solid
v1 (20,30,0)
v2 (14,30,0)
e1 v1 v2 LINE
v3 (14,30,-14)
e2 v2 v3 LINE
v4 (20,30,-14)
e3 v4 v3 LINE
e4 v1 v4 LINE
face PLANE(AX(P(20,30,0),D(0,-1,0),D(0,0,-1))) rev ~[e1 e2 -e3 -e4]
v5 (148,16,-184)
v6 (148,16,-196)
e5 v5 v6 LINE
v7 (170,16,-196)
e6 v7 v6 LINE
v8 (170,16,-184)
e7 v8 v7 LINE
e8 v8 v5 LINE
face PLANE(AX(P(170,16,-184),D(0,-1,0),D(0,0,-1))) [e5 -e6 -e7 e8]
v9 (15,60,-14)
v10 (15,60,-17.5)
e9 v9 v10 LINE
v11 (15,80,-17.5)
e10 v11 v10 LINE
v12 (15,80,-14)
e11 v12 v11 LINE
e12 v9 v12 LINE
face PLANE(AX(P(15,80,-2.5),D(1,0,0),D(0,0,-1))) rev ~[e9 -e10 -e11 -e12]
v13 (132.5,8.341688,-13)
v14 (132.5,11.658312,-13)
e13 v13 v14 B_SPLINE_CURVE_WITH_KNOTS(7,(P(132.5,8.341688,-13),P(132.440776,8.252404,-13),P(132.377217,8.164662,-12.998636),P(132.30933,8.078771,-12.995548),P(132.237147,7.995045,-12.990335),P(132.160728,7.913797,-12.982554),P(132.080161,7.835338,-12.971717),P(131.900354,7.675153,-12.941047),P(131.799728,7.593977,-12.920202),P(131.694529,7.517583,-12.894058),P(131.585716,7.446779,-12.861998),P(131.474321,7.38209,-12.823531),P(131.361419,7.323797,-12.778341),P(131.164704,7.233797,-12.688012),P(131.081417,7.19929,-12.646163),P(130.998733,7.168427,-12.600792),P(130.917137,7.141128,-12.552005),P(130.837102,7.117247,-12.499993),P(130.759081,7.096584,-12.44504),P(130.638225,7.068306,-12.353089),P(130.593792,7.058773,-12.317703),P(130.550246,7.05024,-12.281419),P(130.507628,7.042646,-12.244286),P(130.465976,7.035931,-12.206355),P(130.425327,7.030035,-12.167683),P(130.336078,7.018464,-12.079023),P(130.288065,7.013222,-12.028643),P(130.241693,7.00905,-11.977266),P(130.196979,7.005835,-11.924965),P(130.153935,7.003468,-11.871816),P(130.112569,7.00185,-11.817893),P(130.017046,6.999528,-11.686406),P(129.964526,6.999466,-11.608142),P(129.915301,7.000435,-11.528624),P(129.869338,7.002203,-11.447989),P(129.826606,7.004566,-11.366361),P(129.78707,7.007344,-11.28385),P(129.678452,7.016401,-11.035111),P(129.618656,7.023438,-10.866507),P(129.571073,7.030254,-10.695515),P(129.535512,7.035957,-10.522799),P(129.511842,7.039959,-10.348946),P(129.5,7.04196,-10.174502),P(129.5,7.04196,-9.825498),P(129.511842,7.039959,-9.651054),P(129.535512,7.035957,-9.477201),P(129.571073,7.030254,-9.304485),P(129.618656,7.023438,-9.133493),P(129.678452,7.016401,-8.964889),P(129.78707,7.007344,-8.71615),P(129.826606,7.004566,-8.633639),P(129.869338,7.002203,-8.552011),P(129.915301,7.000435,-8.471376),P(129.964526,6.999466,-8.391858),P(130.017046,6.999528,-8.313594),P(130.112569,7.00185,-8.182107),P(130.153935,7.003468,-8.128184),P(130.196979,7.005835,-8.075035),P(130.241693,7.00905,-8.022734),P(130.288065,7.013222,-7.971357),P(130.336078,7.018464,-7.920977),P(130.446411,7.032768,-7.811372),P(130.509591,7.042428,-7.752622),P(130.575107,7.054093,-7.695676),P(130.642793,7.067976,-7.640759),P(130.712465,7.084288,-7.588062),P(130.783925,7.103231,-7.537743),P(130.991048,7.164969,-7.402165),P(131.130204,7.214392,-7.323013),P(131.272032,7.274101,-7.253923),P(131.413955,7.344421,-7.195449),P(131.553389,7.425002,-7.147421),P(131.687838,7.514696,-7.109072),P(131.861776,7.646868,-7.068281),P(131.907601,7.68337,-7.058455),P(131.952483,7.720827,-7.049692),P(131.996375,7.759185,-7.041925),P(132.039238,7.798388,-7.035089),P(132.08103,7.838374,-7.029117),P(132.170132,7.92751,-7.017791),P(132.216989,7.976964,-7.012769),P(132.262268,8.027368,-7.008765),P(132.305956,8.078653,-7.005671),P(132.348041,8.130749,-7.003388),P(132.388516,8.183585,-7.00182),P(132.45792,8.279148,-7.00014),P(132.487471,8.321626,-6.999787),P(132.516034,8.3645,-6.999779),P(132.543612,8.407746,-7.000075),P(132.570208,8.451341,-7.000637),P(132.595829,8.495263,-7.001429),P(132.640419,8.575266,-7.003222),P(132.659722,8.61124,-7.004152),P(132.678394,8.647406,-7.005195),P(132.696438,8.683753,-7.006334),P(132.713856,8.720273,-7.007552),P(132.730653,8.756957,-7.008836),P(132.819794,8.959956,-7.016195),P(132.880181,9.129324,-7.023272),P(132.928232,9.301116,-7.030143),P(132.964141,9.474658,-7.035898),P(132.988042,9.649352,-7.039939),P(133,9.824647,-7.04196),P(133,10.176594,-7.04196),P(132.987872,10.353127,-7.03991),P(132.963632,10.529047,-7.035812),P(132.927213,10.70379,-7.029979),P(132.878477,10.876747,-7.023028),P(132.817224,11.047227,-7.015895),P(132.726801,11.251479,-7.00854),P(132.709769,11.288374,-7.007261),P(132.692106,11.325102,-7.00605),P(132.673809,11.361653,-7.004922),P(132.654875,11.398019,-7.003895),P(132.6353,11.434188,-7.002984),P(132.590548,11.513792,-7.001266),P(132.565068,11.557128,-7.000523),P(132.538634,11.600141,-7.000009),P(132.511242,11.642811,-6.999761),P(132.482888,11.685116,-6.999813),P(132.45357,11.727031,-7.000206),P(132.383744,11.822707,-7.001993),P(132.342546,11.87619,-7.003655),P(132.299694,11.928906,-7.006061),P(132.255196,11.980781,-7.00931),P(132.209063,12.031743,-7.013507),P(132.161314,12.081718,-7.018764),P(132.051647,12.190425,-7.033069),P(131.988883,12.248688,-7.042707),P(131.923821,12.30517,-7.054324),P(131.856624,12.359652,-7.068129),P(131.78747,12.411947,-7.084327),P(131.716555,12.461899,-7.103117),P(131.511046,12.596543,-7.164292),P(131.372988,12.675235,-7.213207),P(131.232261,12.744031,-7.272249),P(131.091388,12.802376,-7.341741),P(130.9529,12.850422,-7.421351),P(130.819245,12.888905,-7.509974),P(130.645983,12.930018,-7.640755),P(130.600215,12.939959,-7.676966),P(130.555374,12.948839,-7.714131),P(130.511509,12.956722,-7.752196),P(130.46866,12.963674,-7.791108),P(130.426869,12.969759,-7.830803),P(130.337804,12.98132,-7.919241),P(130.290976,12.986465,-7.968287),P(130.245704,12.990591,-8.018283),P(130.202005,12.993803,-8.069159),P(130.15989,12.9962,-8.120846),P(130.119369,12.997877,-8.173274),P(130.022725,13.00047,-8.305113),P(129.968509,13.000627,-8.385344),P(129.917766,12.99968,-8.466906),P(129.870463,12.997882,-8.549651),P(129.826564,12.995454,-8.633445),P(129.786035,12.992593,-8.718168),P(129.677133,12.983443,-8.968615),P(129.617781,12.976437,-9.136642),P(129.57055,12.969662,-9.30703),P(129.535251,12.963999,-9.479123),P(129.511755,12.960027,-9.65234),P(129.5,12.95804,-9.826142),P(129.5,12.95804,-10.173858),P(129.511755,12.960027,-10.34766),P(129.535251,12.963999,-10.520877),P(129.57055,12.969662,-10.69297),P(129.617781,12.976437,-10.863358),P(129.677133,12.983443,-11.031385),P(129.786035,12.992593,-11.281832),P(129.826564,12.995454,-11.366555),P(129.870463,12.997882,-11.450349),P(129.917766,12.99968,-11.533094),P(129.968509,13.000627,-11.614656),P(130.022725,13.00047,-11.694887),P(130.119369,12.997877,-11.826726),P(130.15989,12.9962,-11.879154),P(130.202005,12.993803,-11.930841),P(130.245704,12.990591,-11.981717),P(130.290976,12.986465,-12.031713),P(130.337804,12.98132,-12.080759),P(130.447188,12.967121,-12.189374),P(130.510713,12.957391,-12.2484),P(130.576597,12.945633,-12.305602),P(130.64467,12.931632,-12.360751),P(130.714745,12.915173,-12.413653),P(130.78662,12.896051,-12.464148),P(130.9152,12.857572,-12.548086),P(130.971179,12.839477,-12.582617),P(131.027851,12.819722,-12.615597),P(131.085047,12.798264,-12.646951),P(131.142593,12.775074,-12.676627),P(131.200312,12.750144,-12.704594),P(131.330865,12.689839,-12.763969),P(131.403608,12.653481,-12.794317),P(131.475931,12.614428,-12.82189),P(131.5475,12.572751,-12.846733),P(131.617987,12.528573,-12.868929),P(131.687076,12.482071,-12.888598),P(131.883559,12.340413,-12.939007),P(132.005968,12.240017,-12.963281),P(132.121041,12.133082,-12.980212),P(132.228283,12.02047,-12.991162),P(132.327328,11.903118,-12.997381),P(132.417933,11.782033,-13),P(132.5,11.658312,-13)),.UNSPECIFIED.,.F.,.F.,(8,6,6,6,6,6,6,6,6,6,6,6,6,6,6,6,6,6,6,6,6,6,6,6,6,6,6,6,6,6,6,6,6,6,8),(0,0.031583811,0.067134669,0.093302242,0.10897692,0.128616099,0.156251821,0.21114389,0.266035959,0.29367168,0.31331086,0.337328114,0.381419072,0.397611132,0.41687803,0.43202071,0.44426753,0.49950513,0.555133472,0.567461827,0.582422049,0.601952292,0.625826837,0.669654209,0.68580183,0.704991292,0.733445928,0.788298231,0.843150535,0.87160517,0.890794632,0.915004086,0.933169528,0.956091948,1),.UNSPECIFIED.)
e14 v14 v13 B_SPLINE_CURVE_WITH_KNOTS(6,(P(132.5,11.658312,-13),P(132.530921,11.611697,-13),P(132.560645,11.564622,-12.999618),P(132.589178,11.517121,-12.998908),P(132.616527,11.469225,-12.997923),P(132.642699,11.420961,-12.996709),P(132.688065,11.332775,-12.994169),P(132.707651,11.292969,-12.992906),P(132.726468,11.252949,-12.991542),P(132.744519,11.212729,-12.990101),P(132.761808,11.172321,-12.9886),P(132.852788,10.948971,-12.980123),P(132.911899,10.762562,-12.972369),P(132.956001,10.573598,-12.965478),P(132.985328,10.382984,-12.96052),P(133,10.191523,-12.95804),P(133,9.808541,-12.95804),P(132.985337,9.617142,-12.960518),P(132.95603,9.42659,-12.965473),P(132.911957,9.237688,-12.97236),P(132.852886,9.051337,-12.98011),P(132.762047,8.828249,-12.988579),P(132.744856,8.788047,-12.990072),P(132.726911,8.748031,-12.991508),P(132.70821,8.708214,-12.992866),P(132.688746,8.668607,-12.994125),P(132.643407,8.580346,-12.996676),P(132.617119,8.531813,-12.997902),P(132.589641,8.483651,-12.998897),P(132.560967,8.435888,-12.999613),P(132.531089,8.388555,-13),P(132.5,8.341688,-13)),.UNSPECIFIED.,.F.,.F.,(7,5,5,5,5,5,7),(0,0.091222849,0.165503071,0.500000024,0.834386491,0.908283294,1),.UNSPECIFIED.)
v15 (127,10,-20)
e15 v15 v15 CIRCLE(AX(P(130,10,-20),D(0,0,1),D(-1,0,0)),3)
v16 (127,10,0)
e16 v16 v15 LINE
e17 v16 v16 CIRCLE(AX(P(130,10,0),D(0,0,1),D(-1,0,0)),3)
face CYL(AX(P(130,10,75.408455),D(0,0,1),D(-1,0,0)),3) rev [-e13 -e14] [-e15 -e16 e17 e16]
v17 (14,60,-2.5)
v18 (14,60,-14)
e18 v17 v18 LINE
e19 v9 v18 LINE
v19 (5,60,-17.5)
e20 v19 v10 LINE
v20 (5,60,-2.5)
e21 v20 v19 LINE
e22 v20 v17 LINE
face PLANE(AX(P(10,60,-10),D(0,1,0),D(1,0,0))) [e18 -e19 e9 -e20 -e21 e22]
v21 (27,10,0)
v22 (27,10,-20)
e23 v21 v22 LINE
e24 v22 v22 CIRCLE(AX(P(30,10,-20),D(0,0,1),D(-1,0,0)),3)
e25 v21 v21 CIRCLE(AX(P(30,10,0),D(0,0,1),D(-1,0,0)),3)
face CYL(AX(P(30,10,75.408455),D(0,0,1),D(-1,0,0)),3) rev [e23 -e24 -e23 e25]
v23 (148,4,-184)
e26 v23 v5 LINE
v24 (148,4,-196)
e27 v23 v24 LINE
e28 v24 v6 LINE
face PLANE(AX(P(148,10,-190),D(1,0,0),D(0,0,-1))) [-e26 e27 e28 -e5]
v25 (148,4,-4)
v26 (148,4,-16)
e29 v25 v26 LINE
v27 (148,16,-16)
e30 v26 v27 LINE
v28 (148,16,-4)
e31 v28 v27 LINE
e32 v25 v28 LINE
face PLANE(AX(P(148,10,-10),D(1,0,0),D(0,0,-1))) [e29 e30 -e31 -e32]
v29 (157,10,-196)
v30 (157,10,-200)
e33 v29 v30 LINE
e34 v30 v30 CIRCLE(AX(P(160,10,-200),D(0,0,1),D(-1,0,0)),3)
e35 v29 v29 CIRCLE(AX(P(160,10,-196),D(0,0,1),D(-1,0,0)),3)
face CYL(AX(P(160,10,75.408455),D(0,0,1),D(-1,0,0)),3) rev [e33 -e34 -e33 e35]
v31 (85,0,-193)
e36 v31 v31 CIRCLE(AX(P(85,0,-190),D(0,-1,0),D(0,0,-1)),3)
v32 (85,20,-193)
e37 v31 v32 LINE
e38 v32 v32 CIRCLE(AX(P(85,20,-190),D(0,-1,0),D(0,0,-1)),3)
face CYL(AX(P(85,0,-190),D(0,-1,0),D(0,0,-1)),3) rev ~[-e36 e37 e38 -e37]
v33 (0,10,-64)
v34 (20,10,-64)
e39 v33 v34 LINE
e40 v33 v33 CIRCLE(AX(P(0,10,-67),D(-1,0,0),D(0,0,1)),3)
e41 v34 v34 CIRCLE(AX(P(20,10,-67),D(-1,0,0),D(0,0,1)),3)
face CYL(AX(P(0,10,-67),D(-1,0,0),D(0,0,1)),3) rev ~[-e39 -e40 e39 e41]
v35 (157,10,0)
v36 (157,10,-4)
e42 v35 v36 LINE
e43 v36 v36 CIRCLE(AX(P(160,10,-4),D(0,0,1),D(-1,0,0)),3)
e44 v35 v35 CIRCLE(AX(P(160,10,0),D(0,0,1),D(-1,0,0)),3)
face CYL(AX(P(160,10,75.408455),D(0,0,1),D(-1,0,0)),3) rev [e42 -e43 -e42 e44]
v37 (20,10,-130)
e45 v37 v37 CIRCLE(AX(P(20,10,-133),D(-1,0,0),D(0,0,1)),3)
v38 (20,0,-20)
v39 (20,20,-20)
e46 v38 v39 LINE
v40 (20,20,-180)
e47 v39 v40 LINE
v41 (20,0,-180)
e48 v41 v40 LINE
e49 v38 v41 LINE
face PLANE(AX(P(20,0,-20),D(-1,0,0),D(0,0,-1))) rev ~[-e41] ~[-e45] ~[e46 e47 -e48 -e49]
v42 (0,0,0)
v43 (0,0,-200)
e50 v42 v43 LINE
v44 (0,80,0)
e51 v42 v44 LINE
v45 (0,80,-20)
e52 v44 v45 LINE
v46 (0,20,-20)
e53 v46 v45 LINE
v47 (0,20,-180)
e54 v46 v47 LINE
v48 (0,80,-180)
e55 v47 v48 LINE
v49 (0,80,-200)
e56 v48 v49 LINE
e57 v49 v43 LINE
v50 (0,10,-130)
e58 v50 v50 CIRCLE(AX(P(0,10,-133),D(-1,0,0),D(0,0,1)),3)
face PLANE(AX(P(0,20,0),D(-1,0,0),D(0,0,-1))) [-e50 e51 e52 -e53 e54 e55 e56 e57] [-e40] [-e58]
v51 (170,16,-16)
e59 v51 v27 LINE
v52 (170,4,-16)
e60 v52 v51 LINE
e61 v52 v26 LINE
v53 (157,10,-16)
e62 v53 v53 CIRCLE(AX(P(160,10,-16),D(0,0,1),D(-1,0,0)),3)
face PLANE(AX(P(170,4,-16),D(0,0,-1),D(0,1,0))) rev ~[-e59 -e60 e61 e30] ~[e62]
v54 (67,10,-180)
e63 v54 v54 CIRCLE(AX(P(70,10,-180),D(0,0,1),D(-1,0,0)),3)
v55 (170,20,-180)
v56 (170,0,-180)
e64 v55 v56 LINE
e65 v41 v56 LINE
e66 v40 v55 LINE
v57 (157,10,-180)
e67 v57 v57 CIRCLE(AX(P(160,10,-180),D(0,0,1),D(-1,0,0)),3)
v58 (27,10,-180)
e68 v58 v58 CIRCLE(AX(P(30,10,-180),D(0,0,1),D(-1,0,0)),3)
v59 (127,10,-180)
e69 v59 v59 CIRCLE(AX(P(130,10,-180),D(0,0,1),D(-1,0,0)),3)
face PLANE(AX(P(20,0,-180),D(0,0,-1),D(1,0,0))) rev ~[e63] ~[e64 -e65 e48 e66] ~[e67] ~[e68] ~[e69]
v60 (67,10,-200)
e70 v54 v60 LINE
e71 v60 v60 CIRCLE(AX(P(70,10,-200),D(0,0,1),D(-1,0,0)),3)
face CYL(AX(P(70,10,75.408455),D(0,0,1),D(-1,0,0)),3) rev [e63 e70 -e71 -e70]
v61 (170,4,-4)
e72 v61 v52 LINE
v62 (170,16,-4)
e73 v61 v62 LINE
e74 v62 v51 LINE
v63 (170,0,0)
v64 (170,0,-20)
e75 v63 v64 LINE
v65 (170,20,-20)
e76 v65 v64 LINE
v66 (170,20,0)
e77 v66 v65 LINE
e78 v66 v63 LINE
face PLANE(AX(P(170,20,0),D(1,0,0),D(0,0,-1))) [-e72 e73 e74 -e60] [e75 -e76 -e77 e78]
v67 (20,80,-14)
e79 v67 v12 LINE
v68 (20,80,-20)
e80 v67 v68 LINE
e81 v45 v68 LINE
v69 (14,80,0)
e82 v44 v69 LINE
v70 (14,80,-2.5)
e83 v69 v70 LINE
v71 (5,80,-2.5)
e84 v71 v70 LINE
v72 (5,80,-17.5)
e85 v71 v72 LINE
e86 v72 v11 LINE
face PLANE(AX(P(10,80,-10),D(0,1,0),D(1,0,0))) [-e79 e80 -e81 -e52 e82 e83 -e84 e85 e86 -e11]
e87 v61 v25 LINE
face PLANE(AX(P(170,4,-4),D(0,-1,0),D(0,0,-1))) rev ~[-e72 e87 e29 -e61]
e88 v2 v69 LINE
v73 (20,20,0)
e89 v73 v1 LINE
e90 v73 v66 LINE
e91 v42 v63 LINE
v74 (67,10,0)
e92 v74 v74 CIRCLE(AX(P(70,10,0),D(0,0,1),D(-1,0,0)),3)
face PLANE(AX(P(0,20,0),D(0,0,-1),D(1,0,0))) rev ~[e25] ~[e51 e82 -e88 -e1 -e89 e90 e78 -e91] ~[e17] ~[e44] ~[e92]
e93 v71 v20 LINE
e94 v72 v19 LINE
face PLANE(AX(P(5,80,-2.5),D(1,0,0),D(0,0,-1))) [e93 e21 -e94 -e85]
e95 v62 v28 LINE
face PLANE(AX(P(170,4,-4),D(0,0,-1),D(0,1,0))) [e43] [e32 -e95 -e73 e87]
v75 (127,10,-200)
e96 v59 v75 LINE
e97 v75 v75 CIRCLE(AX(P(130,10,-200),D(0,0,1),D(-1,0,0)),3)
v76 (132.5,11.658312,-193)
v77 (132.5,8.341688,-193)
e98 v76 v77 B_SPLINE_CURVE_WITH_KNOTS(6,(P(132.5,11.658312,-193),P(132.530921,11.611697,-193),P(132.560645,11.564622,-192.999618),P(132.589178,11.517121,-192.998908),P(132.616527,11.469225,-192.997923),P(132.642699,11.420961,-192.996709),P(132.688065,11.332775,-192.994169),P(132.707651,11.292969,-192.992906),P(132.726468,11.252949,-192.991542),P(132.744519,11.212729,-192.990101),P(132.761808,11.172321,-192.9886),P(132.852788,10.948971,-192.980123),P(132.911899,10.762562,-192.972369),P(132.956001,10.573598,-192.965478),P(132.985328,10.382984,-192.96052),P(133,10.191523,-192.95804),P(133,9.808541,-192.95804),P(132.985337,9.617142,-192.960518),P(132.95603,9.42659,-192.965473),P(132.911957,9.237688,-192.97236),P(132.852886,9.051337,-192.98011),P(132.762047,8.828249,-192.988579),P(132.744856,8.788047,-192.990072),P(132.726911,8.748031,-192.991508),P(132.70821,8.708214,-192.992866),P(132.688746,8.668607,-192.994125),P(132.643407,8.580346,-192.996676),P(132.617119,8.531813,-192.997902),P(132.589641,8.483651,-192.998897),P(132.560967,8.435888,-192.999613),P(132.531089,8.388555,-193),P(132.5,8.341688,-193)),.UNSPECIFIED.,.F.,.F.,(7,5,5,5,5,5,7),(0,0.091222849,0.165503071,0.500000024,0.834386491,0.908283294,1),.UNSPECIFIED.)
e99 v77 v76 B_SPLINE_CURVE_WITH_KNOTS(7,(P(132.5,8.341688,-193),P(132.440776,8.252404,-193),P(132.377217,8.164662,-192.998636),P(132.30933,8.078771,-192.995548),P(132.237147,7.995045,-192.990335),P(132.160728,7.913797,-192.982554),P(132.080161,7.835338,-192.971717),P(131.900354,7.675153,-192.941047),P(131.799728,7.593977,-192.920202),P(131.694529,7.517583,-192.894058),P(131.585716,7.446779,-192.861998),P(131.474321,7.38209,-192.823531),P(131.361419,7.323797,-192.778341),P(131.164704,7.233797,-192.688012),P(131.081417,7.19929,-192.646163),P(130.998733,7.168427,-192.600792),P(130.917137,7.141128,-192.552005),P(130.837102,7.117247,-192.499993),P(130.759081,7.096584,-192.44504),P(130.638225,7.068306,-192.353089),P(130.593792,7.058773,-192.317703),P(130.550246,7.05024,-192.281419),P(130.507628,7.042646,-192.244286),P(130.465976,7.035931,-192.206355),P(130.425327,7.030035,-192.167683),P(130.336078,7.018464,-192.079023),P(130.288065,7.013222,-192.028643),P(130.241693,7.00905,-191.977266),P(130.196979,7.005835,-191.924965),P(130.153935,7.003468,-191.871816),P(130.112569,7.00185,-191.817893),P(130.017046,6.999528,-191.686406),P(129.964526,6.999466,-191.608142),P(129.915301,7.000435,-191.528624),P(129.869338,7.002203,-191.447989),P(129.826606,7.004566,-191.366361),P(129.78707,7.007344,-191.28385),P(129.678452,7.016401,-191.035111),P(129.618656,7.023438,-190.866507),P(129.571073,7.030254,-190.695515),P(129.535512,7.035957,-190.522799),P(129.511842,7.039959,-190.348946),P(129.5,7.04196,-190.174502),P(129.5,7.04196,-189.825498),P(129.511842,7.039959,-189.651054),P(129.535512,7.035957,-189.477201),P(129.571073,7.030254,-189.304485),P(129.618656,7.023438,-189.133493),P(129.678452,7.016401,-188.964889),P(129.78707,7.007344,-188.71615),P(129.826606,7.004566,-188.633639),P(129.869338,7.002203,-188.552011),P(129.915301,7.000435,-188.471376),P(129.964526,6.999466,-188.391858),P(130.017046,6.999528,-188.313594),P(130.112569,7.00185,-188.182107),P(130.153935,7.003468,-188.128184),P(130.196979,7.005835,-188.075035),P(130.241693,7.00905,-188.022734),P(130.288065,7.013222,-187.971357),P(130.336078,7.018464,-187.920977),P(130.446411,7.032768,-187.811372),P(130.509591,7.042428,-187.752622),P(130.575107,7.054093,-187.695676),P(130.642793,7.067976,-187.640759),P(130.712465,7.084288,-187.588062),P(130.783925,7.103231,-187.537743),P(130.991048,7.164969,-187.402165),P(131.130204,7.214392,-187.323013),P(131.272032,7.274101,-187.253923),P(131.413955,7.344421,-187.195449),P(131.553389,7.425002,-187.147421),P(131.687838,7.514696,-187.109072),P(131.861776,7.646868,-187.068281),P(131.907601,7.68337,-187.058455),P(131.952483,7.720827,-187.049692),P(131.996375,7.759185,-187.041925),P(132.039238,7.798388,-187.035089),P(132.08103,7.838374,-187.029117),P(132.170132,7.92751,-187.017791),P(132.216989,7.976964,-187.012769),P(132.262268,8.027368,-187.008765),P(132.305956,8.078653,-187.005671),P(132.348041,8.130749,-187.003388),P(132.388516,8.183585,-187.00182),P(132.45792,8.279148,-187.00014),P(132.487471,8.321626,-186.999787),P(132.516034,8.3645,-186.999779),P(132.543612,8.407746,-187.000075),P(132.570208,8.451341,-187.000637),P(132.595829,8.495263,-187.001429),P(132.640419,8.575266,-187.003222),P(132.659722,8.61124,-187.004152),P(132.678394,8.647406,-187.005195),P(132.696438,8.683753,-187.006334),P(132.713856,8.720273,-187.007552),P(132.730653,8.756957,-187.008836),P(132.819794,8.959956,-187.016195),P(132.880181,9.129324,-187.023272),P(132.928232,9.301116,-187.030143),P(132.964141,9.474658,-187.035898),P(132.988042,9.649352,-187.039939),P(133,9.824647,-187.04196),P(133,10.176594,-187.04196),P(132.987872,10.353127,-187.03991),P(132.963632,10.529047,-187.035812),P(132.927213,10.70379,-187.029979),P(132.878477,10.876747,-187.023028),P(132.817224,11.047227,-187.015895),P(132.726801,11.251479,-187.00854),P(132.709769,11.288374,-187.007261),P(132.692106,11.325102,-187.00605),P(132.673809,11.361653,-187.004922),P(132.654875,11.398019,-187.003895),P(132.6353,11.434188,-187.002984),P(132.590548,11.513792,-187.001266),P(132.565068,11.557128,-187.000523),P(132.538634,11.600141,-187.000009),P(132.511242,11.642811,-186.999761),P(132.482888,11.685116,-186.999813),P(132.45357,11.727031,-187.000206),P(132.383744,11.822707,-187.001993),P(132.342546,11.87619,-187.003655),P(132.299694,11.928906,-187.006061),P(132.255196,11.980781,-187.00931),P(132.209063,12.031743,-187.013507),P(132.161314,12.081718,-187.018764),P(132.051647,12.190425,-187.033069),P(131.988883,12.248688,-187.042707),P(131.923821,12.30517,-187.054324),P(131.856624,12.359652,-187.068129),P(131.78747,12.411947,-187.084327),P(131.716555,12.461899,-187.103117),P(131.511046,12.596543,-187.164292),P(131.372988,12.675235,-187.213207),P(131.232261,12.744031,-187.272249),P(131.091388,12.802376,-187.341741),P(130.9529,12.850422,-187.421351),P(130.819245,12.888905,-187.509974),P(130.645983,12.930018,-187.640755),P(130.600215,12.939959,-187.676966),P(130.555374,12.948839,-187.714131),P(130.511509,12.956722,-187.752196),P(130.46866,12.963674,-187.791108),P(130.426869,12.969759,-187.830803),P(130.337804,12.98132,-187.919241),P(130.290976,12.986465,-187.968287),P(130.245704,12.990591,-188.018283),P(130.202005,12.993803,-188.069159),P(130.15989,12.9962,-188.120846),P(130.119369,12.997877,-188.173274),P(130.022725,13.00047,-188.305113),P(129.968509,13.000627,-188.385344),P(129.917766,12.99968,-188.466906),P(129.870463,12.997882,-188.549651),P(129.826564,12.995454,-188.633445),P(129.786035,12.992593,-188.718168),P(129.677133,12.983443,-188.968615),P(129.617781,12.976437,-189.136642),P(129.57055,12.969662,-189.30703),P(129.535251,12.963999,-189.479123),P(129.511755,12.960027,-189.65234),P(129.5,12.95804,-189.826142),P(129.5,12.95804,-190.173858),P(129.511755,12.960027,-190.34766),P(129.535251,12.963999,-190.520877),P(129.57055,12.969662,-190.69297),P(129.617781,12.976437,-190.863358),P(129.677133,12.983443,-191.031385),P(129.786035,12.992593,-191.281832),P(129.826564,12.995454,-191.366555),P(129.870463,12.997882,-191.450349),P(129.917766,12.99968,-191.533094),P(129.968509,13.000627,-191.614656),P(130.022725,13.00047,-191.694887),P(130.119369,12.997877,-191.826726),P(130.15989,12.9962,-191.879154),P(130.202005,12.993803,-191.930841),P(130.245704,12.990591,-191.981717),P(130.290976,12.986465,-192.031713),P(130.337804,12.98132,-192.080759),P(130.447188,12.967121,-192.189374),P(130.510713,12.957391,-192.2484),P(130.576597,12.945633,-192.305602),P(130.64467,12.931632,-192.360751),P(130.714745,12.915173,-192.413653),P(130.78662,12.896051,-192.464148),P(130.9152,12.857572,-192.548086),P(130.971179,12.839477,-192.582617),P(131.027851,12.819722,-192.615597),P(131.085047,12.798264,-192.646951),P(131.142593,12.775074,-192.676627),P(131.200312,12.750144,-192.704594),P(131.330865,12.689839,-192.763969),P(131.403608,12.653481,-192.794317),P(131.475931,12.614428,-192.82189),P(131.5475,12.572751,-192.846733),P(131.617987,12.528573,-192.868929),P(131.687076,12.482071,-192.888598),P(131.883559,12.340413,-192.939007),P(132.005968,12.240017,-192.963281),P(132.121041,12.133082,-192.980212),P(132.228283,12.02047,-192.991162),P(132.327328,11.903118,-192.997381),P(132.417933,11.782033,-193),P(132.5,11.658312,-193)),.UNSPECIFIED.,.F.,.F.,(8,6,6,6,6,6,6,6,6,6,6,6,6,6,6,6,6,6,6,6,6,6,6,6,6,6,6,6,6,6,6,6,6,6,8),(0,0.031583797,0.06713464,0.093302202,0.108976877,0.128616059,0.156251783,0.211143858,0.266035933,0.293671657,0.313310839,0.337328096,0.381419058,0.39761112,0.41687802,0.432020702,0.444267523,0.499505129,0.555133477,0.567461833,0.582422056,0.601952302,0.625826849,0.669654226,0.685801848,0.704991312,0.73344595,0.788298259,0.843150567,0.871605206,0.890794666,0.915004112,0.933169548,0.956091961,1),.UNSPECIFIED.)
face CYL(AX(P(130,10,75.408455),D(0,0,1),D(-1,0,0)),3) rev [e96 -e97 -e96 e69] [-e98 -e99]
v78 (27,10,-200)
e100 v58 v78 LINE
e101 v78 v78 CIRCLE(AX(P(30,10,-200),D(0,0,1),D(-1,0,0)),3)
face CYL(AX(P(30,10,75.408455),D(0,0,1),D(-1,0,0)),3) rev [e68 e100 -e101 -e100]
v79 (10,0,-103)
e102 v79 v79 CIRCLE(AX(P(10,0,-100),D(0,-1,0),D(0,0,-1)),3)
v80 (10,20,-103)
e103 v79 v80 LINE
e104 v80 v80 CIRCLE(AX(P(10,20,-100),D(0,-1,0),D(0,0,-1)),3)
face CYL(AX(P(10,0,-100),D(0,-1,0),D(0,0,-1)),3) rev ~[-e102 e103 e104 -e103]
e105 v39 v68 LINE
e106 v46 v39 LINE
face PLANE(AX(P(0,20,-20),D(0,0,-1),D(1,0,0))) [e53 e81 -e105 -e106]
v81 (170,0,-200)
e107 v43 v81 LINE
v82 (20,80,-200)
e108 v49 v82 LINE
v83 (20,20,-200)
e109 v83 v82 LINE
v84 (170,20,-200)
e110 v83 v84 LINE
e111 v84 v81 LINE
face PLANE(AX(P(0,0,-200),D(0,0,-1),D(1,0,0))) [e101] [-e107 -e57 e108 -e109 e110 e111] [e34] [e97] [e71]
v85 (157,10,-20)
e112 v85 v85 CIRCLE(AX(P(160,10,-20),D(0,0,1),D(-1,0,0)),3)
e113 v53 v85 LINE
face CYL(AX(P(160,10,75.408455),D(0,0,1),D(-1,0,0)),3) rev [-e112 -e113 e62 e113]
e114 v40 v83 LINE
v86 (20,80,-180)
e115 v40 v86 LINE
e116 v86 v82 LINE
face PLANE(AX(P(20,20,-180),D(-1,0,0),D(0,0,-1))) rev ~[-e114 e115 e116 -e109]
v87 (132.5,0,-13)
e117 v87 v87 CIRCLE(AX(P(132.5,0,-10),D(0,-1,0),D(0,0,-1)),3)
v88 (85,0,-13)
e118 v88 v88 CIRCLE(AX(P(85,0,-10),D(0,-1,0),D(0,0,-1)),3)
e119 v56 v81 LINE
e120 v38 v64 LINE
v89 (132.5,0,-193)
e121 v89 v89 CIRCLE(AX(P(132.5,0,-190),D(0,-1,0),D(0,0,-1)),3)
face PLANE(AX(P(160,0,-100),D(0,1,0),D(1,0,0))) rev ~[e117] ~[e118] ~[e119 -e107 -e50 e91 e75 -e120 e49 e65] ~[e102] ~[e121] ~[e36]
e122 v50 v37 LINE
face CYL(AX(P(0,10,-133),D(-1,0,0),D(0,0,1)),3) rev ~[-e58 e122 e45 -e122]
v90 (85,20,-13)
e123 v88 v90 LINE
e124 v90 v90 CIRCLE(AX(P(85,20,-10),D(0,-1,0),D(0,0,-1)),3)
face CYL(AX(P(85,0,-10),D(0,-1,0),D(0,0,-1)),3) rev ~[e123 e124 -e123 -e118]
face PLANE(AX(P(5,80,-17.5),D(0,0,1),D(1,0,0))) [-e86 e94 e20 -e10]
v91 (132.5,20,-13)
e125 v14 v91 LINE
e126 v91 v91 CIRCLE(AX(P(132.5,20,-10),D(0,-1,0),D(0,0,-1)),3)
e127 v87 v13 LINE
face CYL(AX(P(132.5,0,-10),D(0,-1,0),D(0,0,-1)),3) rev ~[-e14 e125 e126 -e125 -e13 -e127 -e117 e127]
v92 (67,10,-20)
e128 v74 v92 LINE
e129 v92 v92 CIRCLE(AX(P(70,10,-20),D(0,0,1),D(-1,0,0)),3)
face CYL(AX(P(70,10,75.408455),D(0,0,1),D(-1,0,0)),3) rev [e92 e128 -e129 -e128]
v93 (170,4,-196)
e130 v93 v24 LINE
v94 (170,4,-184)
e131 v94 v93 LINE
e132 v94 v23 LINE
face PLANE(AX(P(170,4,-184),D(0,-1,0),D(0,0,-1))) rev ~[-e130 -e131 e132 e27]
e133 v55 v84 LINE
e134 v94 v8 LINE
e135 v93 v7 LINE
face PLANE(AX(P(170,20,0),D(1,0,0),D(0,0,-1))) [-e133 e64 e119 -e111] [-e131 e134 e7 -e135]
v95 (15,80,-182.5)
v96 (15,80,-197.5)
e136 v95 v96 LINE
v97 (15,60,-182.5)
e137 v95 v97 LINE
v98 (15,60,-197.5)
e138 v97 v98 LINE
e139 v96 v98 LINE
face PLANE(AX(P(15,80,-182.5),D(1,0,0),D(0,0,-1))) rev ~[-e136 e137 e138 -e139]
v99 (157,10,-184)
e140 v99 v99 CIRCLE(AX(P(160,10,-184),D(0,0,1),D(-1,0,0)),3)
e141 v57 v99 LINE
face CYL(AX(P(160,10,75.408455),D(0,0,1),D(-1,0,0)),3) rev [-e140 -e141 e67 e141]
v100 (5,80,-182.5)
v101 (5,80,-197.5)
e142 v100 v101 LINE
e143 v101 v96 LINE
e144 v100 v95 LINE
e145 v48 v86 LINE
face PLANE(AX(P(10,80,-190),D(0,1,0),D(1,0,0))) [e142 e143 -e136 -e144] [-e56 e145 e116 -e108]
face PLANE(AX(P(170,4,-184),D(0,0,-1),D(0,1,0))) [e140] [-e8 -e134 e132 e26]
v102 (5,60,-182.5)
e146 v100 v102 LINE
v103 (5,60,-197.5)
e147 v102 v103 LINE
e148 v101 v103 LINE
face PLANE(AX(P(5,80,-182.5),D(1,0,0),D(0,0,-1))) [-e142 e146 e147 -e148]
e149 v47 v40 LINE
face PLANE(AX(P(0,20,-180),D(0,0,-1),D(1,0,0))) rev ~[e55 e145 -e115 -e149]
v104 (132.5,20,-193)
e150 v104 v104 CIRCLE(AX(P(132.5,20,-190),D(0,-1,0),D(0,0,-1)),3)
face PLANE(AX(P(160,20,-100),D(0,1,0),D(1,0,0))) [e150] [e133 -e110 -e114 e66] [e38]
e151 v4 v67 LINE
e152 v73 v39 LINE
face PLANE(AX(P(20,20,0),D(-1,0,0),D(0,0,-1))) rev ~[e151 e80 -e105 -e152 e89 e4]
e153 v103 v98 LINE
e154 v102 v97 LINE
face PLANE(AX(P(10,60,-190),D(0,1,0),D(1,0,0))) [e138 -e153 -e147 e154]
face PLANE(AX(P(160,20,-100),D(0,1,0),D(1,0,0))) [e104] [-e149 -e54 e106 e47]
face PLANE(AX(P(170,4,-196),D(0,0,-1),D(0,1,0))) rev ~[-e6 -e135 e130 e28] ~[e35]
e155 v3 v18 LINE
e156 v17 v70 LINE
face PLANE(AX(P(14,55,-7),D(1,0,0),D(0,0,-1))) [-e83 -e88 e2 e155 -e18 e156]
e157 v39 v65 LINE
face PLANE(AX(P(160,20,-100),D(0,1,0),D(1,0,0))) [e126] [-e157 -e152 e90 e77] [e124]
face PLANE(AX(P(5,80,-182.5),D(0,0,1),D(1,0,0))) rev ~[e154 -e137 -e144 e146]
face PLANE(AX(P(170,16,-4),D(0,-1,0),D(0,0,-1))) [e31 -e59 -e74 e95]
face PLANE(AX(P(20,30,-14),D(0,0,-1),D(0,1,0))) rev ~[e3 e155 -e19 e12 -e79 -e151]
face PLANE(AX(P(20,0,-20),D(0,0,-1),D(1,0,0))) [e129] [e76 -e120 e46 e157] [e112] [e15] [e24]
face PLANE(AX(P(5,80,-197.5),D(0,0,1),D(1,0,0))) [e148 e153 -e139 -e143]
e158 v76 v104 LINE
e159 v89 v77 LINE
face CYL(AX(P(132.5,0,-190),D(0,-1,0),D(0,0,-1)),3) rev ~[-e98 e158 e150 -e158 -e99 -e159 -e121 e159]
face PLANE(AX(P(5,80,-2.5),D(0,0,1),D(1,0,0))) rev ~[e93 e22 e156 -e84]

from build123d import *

# Parameters (mm, degrees)
SKETCH1_W               = 320
SKETCH1_H               = 200
SKETCH1_W_2             = 280
SKETCH1_H_2             = 160
BOSS_EXTRUDE1_DEPTH     = 20
SKETCH2_W               = 150
SKETCH2_H               = 200
CUT_EXTRUDE1_DEPTH      = 20
SKETCH3_W               = 20
SKETCH3_H               = 20
BOSS_EXTRUDE2_DEPTH     = 60
SKETCH4_W               = 10
SKETCH4_H               = 15
CUT_EXTRUDE2_DEPTH      = 20
SKETCH5_W               = 12
SKETCH5_H               = 12
CUT_EXTRUDE3_DEPTH      = 22
CUT_EXTRUDE5_DEPTH      = 275.40845468
CUT_EXTRUDE5_DEPTH_BACK = 275.40845468
SKETCH8_R               = 3
SKETCH10_R              = 3
CUT_EXTRUDE6_DEPTH      = 30
SKETCH11_W              = 14
SKETCH11_H              = 50
CUT_EXTRUDE7_DEPTH      = 6
SKETCH12_R              = 3
CUT_EXTRUDE8_DEPTH      = 20


with BuildPart() as part:
    # Sketch1 → Boss-Extrude1 (new body)
    with BuildSketch(Plane(origin=(0, 0, 0), x_dir=(1, 0, 0), z_dir=(0, 1, 0))):
        with Locations((160, 100)):
            Rectangle(SKETCH1_W, SKETCH1_H)
        with Locations((160, 100)):
            Rectangle(SKETCH1_W_2, SKETCH1_H_2, mode=Mode.SUBTRACT)
    extrude(amount=BOSS_EXTRUDE1_DEPTH)

    # Sketch2 → Cut-Extrude1 (cut)
    with BuildSketch(Plane(origin=(0, 20, 0), x_dir=(1, 0, 0), z_dir=(0, 1, 0))):
        with Locations((245, 100)):
            Rectangle(SKETCH2_W, SKETCH2_H)
    extrude(amount=-CUT_EXTRUDE1_DEPTH, mode=Mode.SUBTRACT)

    # Sketch3 → Boss-Extrude2 (add)
    with BuildSketch(Plane(origin=(0, 20, 0), x_dir=(1, 0, 0), z_dir=(0, 1, 0))):
        with Locations((10, 10)):
            Rectangle(SKETCH3_W, SKETCH3_H)
        with Locations((10, 190)):
            Rectangle(SKETCH3_W, SKETCH3_H)
    extrude(amount=BOSS_EXTRUDE2_DEPTH)

    # Sketch4 → Cut-Extrude2 (cut)
    with BuildSketch(Plane(origin=(0, 80, 0), x_dir=(1, 0, 0), z_dir=(0, 1, 0))):
        with Locations((10, 10)):
            Rectangle(SKETCH4_W, SKETCH4_H)
        with Locations((10, 190)):
            Rectangle(SKETCH4_W, SKETCH4_H)
    extrude(amount=-CUT_EXTRUDE2_DEPTH, mode=Mode.SUBTRACT)

    # Sketch5 → Cut-Extrude3 (cut)
    with BuildSketch(Plane(origin=(170, 0, 0), x_dir=(0, 0, -1), z_dir=(1, 0, 0))):
        with Locations((10, 10)):
            Rectangle(SKETCH5_W, SKETCH5_H)
        with Locations((190, 10)):
            Rectangle(SKETCH5_W, SKETCH5_H)
    extrude(amount=-CUT_EXTRUDE3_DEPTH, mode=Mode.SUBTRACT)

    # Sketch8 → Cut-Extrude5 (cut, two sides: drawn at the far end of the back side and taken through both)
    with BuildSketch(Plane(origin=(0, 0, -200), x_dir=(-1, 0, 0), z_dir=(0, 0, -1)).offset(-CUT_EXTRUDE5_DEPTH_BACK)):
        with Locations((-30, 10)):
            Circle(SKETCH8_R)
        with Locations((-160, 10)):
            Circle(SKETCH8_R)
        with Locations((-70, 10)):
            Circle(SKETCH8_R)
        with Locations((-130, 10)):
            Circle(SKETCH8_R)
    extrude(amount=CUT_EXTRUDE5_DEPTH + CUT_EXTRUDE5_DEPTH_BACK, mode=Mode.SUBTRACT)

    # Sketch10 → Cut-Extrude6 (cut)
    with BuildSketch(Plane.XZ):
        with Locations(Location((132.5, -10, 0), (0, 0, 270))):
            Circle(SKETCH10_R)
        with Locations(Location((85, -10, 0), (0, 0, 270))):
            Circle(SKETCH10_R)
        with Locations(Location((10, -100, 0), (0, 0, 270))):
            Circle(SKETCH10_R)
        with Locations(Location((132.5, -190, 0), (0, 0, 270))):
            Circle(SKETCH10_R)
        with Locations(Location((85, -190, 0), (0, 0, 270))):
            Circle(SKETCH10_R)
    extrude(amount=-CUT_EXTRUDE6_DEPTH, mode=Mode.SUBTRACT)

    # Sketch11 → Cut-Extrude7 (cut)
    with BuildSketch(Plane(origin=(20, 0, 0), x_dir=(0, 0, -1), z_dir=(1, 0, 0))):
        with Locations((7, 55)):
            Rectangle(SKETCH11_W, SKETCH11_H)
    extrude(amount=-CUT_EXTRUDE7_DEPTH, mode=Mode.SUBTRACT)

    # Sketch12 → Cut-Extrude8 (cut)
    with BuildSketch(Plane.ZY):
        with Locations((-133, 10)):
            Circle(SKETCH12_R)
        with Locations((-67, 10)):
            Circle(SKETCH12_R)
    extrude(amount=-CUT_EXTRUDE8_DEPTH, mode=Mode.SUBTRACT)


solid = part.part
